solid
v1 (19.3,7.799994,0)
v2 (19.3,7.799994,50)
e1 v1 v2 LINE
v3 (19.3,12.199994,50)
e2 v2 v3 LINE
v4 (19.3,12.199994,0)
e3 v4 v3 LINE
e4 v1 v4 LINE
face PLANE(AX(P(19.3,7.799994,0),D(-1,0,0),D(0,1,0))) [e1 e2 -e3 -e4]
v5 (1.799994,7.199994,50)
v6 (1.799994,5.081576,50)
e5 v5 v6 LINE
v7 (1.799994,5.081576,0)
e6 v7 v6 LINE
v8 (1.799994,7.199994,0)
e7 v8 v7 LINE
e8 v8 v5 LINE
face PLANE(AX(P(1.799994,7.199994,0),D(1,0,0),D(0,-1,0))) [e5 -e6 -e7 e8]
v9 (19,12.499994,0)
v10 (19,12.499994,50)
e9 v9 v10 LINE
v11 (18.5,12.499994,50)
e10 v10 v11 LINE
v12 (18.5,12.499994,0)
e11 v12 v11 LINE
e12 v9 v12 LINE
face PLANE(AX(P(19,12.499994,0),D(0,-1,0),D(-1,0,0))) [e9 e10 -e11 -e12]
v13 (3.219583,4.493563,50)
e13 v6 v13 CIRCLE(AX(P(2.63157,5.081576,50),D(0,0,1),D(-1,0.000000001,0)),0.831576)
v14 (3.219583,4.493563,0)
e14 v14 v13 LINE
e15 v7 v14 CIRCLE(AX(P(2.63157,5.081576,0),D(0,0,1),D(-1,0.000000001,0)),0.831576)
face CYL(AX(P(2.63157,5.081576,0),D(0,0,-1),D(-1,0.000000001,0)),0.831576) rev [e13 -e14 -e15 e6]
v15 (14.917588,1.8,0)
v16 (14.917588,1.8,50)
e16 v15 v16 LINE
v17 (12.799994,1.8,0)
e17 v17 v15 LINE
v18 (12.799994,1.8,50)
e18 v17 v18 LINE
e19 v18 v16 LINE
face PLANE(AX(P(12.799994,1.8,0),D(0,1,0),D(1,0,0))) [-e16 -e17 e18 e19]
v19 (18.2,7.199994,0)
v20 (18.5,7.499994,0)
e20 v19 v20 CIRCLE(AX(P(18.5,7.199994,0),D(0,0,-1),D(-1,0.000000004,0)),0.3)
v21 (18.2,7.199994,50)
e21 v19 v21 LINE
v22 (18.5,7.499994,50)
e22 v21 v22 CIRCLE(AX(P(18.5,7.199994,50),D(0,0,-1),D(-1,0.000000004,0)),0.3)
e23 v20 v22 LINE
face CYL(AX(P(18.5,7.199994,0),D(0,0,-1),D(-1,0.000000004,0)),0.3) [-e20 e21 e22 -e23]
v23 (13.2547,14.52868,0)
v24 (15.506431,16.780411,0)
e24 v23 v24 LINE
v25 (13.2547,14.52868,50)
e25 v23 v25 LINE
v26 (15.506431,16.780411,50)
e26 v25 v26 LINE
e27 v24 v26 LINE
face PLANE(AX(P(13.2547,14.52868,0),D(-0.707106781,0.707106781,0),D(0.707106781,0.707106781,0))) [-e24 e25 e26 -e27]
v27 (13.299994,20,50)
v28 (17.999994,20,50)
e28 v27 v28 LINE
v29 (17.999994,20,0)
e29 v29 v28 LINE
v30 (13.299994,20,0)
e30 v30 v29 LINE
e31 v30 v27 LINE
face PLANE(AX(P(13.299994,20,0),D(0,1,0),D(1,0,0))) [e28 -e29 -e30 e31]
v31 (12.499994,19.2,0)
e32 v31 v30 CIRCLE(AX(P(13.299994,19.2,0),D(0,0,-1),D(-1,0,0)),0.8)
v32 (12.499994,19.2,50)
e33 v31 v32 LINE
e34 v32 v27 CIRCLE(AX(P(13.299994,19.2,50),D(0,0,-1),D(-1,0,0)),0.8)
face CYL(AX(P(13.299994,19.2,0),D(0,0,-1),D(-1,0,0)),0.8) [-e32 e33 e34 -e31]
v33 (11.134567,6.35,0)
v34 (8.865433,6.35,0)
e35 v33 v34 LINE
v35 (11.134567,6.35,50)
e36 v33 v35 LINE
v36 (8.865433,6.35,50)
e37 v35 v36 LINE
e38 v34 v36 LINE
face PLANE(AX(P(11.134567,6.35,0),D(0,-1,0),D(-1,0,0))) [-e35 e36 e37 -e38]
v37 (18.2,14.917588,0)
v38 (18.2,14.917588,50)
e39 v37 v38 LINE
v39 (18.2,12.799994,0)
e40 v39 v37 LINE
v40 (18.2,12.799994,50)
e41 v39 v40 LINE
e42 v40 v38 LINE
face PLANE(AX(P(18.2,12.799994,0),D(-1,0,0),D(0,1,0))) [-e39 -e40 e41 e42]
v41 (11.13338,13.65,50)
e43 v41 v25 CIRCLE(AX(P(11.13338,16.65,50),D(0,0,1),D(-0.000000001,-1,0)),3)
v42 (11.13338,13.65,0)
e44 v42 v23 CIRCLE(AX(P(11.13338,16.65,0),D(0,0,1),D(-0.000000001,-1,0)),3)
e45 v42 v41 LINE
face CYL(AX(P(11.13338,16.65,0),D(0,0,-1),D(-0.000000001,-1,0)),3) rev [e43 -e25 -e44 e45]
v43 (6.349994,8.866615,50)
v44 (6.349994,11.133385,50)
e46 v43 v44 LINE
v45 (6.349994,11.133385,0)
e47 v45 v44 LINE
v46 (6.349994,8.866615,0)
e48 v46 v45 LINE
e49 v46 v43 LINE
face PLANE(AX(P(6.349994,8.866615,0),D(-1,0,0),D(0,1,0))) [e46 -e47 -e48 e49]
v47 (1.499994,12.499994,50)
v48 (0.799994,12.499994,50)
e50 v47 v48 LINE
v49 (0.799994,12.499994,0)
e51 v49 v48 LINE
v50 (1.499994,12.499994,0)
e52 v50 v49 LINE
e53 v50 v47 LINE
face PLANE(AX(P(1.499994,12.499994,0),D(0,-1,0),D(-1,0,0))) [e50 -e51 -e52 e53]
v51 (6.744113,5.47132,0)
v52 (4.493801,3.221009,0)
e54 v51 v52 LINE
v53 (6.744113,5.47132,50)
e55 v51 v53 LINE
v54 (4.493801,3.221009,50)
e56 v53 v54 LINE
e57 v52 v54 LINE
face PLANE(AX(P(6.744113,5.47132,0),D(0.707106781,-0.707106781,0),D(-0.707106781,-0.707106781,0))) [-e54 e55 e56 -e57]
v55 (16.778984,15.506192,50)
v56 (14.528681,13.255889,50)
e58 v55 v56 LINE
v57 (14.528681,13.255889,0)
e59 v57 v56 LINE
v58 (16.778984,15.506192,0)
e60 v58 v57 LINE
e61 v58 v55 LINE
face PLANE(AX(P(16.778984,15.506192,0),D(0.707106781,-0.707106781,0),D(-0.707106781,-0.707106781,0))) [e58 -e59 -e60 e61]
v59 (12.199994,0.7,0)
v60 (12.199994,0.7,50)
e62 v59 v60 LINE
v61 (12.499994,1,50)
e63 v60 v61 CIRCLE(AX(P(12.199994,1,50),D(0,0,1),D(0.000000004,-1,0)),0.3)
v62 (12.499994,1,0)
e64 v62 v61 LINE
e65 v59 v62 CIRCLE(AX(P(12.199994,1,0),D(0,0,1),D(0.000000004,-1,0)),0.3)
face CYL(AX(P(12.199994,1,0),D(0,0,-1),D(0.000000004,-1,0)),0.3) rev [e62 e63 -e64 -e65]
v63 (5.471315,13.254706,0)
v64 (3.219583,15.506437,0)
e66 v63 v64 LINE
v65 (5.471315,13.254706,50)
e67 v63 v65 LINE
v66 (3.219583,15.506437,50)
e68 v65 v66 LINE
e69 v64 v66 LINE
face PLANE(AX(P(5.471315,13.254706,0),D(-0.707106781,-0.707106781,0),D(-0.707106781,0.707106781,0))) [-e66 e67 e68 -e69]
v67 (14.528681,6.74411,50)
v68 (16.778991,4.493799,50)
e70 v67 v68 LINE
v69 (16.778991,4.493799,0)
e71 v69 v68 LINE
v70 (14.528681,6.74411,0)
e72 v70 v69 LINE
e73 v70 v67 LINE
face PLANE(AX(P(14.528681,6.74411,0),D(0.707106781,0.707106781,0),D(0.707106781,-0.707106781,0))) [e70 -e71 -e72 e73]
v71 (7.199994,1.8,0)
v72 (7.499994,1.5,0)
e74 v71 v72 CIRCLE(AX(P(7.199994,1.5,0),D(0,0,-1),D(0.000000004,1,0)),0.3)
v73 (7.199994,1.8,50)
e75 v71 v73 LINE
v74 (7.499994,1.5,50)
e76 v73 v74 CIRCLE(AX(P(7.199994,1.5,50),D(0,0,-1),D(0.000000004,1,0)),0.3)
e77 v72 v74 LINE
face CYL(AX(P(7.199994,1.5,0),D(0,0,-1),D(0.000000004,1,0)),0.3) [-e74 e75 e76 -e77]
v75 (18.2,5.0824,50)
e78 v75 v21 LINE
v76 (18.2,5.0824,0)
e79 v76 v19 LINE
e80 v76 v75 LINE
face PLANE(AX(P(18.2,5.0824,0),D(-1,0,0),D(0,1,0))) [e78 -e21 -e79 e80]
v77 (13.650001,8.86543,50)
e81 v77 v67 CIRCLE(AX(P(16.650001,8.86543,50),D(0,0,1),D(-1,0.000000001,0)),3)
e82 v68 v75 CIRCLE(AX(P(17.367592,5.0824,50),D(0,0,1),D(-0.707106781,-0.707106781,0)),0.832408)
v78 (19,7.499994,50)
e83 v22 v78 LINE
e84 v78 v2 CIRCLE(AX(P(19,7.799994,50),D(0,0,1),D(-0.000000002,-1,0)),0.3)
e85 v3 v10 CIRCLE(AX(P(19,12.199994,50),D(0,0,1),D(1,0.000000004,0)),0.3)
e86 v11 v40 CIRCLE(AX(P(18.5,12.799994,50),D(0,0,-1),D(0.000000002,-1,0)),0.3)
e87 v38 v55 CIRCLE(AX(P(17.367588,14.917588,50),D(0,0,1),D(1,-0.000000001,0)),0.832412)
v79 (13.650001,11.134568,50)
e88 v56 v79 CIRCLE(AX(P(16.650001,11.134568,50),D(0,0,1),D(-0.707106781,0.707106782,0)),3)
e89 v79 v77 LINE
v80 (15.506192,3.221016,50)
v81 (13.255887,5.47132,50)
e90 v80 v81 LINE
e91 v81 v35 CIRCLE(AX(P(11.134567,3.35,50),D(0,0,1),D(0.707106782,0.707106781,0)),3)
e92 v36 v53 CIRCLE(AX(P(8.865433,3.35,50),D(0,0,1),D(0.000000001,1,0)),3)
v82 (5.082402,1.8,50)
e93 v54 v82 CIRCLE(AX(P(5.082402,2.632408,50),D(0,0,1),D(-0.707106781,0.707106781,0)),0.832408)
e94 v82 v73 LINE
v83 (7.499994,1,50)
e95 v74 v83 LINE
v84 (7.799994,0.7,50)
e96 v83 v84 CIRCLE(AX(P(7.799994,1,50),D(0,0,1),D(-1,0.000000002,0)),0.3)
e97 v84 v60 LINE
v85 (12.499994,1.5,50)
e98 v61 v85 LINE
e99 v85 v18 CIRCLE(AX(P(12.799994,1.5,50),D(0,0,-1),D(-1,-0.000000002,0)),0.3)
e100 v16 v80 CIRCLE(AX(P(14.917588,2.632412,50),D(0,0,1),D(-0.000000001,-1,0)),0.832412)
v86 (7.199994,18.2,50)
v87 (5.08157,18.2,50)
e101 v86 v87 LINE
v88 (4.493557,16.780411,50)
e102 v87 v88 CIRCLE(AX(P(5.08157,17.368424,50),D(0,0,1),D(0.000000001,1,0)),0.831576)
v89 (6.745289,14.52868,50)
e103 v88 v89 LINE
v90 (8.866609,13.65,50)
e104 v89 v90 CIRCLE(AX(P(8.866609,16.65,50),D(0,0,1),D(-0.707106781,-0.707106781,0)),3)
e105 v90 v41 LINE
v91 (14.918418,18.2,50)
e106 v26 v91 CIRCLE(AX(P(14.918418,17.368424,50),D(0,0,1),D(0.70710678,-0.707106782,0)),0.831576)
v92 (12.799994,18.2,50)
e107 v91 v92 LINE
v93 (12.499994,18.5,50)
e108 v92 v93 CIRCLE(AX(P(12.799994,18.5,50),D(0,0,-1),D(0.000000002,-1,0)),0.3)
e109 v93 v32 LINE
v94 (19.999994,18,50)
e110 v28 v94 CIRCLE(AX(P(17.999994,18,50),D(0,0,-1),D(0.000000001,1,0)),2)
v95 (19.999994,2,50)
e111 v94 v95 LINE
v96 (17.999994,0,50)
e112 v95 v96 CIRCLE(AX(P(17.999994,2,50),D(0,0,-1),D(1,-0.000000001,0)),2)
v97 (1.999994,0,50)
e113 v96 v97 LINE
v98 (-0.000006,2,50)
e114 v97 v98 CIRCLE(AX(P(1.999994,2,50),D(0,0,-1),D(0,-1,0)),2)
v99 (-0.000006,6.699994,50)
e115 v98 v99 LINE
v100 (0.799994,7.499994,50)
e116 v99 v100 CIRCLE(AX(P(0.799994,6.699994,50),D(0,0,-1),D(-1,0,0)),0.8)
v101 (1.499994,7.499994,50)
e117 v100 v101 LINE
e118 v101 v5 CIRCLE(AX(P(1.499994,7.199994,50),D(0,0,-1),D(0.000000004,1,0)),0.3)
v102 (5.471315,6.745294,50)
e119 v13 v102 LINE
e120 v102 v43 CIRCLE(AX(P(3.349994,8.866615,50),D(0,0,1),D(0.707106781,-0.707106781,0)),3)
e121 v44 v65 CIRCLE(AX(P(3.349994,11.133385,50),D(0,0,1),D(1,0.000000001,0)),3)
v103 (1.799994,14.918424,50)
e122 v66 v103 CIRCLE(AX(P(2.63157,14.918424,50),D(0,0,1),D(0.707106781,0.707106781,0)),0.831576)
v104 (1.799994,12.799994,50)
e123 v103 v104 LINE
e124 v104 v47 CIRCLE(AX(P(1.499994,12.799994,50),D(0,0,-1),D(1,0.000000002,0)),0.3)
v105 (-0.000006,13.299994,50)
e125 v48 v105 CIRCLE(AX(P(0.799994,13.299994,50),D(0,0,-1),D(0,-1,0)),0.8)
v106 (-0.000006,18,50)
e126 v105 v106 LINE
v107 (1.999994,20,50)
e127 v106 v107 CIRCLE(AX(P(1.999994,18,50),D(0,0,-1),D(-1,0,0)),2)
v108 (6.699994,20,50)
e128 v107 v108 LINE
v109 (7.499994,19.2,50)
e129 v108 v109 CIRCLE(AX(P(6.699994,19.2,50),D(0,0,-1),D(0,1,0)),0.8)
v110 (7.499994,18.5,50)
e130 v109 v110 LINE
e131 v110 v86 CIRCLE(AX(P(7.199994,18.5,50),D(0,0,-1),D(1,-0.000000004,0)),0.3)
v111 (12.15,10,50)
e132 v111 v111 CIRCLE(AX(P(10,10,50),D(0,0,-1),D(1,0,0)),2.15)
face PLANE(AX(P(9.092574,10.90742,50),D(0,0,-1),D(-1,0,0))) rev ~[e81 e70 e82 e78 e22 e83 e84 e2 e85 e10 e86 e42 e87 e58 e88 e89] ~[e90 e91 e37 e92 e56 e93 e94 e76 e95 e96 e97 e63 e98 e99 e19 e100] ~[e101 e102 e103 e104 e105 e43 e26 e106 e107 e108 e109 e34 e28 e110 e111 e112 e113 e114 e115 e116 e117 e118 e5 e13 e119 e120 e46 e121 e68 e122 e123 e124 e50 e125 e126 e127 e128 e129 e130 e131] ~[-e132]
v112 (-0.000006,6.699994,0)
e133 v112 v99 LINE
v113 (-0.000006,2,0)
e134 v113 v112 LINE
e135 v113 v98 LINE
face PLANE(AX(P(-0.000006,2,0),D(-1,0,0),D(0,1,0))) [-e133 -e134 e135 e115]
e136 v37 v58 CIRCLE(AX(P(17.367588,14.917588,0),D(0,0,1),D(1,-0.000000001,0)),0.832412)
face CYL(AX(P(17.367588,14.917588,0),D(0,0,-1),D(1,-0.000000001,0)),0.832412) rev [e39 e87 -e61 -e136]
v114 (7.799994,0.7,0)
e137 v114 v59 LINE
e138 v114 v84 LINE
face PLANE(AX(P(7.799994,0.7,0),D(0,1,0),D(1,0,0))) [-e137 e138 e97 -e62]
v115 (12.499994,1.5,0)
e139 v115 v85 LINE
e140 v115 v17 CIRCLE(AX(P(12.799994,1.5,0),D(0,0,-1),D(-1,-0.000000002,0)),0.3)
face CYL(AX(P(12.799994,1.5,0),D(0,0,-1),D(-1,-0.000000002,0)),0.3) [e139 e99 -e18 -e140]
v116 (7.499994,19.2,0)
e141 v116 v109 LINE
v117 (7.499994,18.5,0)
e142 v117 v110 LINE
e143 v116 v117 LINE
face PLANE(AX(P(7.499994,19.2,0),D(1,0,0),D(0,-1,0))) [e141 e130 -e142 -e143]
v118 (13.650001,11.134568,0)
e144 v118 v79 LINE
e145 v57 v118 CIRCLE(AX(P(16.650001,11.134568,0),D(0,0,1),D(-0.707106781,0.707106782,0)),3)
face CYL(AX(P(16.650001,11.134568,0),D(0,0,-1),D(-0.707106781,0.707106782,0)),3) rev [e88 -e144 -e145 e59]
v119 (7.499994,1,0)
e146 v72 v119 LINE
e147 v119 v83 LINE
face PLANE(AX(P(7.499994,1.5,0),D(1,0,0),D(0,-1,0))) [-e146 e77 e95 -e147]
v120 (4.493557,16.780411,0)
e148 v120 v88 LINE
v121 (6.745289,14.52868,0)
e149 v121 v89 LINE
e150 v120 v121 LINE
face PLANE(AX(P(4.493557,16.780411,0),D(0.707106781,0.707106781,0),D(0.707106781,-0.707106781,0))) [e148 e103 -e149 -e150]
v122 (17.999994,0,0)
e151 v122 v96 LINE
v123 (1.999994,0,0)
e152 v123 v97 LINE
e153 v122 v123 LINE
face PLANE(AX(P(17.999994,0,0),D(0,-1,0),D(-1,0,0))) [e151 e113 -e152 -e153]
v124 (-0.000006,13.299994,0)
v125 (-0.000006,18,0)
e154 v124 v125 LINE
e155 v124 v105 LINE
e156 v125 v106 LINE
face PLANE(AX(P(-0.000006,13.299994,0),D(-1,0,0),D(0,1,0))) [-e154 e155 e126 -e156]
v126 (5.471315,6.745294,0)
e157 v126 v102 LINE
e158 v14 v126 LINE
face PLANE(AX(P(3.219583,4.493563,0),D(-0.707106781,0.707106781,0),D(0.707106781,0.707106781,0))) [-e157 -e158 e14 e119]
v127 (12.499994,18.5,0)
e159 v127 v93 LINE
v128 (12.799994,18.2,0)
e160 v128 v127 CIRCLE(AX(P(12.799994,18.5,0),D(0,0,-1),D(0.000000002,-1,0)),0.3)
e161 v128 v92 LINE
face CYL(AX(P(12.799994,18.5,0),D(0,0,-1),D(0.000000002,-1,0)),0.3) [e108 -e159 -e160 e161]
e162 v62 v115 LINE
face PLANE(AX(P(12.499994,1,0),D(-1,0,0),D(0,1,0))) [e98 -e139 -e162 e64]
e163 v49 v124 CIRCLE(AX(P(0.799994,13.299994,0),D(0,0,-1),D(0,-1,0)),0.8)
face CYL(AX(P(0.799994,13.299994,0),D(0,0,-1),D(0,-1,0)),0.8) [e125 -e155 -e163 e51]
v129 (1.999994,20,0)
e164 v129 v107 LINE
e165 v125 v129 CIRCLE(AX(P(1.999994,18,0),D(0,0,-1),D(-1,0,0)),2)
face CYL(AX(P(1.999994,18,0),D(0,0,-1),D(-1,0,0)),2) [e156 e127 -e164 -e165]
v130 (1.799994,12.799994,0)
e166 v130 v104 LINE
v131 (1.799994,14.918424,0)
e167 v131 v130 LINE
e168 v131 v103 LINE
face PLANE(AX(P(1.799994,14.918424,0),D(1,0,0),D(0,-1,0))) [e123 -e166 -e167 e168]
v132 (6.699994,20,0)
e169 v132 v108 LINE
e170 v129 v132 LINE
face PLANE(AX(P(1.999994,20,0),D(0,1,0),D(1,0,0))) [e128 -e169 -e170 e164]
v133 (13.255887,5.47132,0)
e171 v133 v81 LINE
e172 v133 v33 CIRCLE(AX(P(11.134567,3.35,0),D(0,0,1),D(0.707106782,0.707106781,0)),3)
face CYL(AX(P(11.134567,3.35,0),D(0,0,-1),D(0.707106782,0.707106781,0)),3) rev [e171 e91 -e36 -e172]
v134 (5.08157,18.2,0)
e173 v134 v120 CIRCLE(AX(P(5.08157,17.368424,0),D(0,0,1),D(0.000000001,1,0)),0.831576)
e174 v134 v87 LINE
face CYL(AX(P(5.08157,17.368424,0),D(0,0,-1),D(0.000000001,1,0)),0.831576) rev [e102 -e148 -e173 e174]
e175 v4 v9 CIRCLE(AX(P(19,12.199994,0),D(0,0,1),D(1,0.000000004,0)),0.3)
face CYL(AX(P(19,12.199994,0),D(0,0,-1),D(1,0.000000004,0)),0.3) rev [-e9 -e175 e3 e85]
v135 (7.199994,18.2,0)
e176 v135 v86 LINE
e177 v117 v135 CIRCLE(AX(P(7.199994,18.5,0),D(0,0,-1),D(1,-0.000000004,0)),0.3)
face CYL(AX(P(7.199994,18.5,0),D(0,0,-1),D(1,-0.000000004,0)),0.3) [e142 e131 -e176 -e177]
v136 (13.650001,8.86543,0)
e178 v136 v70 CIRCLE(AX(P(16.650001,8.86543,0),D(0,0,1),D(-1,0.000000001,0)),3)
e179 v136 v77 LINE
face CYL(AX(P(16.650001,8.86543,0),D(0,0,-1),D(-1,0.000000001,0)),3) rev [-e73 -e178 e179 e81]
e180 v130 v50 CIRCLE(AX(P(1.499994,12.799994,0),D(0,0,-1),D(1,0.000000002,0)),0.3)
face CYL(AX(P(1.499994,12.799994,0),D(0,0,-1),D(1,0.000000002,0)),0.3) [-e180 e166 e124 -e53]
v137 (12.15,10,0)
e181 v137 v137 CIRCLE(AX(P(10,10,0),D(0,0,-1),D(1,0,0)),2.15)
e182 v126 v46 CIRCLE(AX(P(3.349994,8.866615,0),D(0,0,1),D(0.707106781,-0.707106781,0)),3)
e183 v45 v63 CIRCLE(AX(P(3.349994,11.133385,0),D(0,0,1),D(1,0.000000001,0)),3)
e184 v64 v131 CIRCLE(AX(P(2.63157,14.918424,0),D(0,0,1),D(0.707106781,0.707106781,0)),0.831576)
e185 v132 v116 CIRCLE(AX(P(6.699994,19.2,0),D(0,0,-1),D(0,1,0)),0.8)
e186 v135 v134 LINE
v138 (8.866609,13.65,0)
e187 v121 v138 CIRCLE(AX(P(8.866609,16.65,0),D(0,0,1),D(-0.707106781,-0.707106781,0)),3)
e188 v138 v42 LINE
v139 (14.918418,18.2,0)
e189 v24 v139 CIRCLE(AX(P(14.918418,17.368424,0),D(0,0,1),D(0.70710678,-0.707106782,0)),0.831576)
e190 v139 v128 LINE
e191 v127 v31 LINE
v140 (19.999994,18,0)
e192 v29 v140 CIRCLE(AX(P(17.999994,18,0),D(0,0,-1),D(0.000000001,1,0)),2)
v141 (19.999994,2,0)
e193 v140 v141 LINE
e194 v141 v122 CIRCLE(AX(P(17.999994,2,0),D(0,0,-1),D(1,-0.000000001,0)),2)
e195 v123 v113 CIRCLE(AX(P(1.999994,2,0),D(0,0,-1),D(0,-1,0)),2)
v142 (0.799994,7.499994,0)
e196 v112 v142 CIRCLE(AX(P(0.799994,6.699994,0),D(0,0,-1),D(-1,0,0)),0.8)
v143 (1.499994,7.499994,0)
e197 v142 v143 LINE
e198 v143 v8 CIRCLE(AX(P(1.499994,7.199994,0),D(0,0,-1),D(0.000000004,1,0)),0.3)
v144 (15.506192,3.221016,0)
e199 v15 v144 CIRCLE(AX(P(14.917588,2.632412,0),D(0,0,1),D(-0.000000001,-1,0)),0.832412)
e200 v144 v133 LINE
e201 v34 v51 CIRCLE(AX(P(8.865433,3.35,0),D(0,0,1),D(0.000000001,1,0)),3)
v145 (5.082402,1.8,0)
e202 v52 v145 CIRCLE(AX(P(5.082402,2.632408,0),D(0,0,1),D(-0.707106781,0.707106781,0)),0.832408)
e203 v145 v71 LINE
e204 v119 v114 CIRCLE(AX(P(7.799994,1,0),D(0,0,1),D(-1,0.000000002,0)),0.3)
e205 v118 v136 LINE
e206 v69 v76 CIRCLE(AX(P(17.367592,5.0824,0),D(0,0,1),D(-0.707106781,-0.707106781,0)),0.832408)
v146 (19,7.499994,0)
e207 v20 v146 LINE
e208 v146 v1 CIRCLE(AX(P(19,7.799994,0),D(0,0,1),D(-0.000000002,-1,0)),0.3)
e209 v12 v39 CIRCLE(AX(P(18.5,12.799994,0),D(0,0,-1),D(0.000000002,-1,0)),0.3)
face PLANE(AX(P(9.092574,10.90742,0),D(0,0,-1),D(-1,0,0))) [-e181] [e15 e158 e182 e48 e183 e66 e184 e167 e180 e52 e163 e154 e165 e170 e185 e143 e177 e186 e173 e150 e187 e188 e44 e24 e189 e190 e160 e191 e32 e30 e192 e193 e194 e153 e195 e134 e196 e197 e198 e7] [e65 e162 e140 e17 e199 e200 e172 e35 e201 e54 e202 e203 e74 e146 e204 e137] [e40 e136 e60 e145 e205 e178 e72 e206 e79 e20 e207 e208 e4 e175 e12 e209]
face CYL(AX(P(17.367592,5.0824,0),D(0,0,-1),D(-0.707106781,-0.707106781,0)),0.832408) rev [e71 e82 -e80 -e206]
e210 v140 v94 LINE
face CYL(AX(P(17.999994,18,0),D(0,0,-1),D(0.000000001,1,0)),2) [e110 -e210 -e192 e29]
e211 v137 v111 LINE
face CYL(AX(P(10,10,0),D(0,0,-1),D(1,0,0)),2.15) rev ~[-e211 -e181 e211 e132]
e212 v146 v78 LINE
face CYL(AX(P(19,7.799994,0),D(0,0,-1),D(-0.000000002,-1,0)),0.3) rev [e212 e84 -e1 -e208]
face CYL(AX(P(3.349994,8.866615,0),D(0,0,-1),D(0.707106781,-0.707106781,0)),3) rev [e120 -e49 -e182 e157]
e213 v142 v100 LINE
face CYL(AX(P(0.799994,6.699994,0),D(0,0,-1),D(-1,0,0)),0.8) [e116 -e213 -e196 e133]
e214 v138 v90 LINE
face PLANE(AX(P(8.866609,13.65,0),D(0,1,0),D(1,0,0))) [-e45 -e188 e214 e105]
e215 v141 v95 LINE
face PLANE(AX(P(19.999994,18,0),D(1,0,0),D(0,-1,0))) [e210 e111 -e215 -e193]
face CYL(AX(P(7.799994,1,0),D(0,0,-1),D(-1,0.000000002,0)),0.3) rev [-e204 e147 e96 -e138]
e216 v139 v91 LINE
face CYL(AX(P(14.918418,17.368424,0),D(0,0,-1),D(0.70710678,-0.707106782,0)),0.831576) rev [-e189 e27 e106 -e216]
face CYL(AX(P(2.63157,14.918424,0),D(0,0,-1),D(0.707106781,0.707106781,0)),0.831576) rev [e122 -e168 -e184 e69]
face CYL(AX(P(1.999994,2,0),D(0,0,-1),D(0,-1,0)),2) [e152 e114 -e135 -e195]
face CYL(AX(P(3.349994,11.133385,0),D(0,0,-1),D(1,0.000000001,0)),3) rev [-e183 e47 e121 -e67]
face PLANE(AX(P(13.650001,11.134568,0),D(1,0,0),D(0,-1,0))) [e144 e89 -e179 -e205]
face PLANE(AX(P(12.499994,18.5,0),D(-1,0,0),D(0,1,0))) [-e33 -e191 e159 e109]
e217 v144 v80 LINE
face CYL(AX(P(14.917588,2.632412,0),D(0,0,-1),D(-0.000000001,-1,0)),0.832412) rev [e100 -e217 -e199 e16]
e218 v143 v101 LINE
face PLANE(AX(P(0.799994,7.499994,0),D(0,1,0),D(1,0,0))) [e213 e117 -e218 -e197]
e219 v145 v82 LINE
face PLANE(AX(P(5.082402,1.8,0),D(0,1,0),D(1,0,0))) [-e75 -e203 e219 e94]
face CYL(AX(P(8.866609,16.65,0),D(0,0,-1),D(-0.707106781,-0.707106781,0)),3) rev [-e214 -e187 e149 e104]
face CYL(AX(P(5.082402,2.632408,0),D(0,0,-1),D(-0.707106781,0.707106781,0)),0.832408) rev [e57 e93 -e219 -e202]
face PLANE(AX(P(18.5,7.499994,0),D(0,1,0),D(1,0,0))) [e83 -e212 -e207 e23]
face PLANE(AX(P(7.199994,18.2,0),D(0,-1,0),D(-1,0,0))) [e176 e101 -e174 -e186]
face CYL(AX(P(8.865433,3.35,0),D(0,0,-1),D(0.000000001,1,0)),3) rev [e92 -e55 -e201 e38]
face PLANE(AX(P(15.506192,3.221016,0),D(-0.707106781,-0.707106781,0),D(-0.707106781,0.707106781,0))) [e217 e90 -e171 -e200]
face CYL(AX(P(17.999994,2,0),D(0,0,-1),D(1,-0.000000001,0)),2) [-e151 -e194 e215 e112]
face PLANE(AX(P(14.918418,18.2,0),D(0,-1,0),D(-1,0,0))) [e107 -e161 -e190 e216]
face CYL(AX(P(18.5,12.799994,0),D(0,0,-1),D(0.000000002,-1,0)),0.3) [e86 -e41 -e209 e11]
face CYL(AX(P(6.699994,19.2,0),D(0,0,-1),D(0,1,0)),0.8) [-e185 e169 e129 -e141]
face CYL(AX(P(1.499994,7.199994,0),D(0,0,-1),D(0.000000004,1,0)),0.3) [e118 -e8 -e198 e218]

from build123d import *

# Parameters (mm, degrees)
ESQUISSE1_R        = 2.15
BOSS_EXTRU_1_DEPTH = 50


with BuildPart() as part:
    # Esquisse1 → Boss.-Extru.1 (new body)
    with BuildSketch(Plane(origin=(0, 0, 0), x_dir=(-1, 0, 0), z_dir=(0, 0, -1))):
        with BuildLine():
            Line((-17.999994246, 0), (-1.999994246, 0))
            ThreePointArc((-1.999994246, 0), (-0.585780683, 0.585786438), (5.754e-06, 2))
            Line((5.754e-06, 2), (5.754e-06, 6.699994246))
            ThreePointArc((5.754e-06, 6.699994246), (-0.234308821, 7.265679671), (-0.799994246, 7.499994246))
            Line((-0.799994246, 7.499994246), (-1.499994246, 7.499994246))
            ThreePointArc((-1.499994246, 7.499994246), (-1.71212628, 7.41212628), (-1.799994246, 7.199994246))
            Line((-1.799994246, 7.199994246), (-1.799994246, 5.081575939))
            ThreePointArc((-1.799994246, 5.081575939), (-2.31333985, 4.313299949), (-3.21958317, 4.493562953))
            Line((-3.21958317, 4.493562953), (-5.471314589, 6.745294373))
            ThreePointArc((-5.471314589, 6.745294373), (-6.121632843, 7.718564419), (-6.349994246, 8.866614716))
            Line((-6.349994246, 8.866614716), (-6.349994246, 11.133385284))
            ThreePointArc((-6.349994246, 11.133385284), (-6.121632843, 12.281435581), (-5.471314589, 13.254705627))
            Line((-5.471314589, 13.254705627), (-3.21958317, 15.506437047))
            ThreePointArc((-3.21958317, 15.506437047), (-2.31333985, 15.686700051), (-1.799994246, 14.918424061))
            Line((-1.799994246, 14.918424061), (-1.799994246, 12.799994246))
            ThreePointArc((-1.799994246, 12.799994246), (-1.71212628, 12.587862211), (-1.499994246, 12.499994246))
            Line((-1.499994246, 12.499994246), (-0.799994246, 12.499994246))
            ThreePointArc((-0.799994246, 12.499994246), (-0.234308821, 12.734308821), (5.754e-06, 13.299994246))
            Line((5.754e-06, 13.299994246), (5.754e-06, 18))
            ThreePointArc((5.754e-06, 18), (-0.585780683, 19.414213562), (-1.999994246, 20))
            Line((-1.999994246, 20), (-6.699994246, 20))
            ThreePointArc((-6.699994246, 20), (-7.265679671, 19.765685425), (-7.499994246, 19.2))
            Line((-7.499994246, 19.2), (-7.499994246, 18.5))
            ThreePointArc((-7.499994246, 18.5), (-7.41212628, 18.287867966), (-7.199994246, 18.2))
            Line((-7.199994246, 18.2), (-5.081570185, 18.2))
            ThreePointArc((-5.081570185, 18.2), (-4.313294195, 17.686654396), (-4.493557199, 16.780411076))
            Line((-4.493557199, 16.780411076), (-6.745288618, 14.528679656))
            ThreePointArc((-6.745288618, 14.528679656), (-7.718558665, 13.878361402), (-8.866608962, 13.65))
            Line((-8.866608962, 13.65), (-11.13337953, 13.65))
            ThreePointArc((-11.13337953, 13.65), (-12.281429827, 13.878361402), (-13.254699873, 14.528679656))
            Line((-13.254699873, 14.528679656), (-15.506431292, 16.780411076))
            ThreePointArc((-15.506431292, 16.780411076), (-15.686694297, 17.686654396), (-14.918418307, 18.2))
            Line((-14.918418307, 18.2), (-12.799994246, 18.2))
            ThreePointArc((-12.799994246, 18.2), (-12.587862211, 18.287867966), (-12.499994246, 18.5))
            Line((-12.499994246, 18.5), (-12.499994246, 19.2))
            ThreePointArc((-12.499994246, 19.2), (-12.734308821, 19.765685425), (-13.299994246, 20))
            Line((-13.299994246, 20), (-17.999994246, 20))
            ThreePointArc((-17.999994246, 20), (-19.414207808, 19.414213562), (-19.999994246, 18))
            Line((-19.999994246, 18), (-19.999994246, 2))
            ThreePointArc((-19.999994246, 2), (-19.414207808, 0.585786438), (-17.999994246, 0))
        make_face()
        with Locations(Location((-10, 10, 0), (0, 0, 180))):
            Circle(ESQUISSE1_R, mode=Mode.SUBTRACT)
        with BuildLine():
            Line((-16.778984489, 15.506192283), (-14.528680848, 13.255888642))
            ThreePointArc((-14.528680848, 13.255888642), (-13.878362594, 12.282618596), (-13.650001192, 11.134568298))
            Line((-13.650001192, 11.134568298), (-13.650001192, 8.865430016))
            ThreePointArc((-13.650001192, 8.865430016), (-13.878362594, 7.717379719), (-14.528680848, 6.744109673))
            Line((-14.528680848, 6.744109673), (-16.778991435, 4.493799086))
            ThreePointArc((-16.778991435, 4.493799086), (-17.686141031, 4.313355812), (-18.2, 5.082400105))
            Line((-18.2, 5.082400105), (-18.2, 7.199994246))
            ThreePointArc((-18.2, 7.199994246), (-18.287867966, 7.41212628), (-18.5, 7.499994246))
            Line((-18.5, 7.499994246), (-19, 7.499994246))
            ThreePointArc((-19, 7.499994246), (-19.212132034, 7.587862211), (-19.3, 7.799994246))
            Line((-19.3, 7.799994246), (-19.3, 12.199994246))
            ThreePointArc((-19.3, 12.199994246), (-19.212132034, 12.41212628), (-19, 12.499994246))
            Line((-19, 12.499994246), (-18.5, 12.499994246))
            ThreePointArc((-18.5, 12.499994246), (-18.287867966, 12.587862211), (-18.2, 12.799994246))
            Line((-18.2, 12.799994246), (-18.2, 14.917588386))
            ThreePointArc((-18.2, 14.917588386), (-17.68613852, 15.686636439), (-16.778984489, 15.506192283))
        make_face(mode=Mode.SUBTRACT)
        with BuildLine():
            Line((-15.506192283, 3.221015511), (-13.25588745, 5.471320344))
            ThreePointArc((-13.25588745, 5.471320344), (-12.282617404, 6.121638598), (-11.134567107, 6.35))
            Line((-11.134567107, 6.35), (-8.865432893, 6.35))
            ThreePointArc((-8.865432893, 6.35), (-7.717382596, 6.121638598), (-6.74411255, 5.471320344))
            Line((-6.74411255, 5.471320344), (-4.493800771, 3.221008565))
            ThreePointArc((-4.493800771, 3.221008565), (-4.313357497, 2.313858969), (-5.082401791, 1.8))
            Line((-5.082401791, 1.8), (-7.199994246, 1.8))
            ThreePointArc((-7.199994246, 1.8), (-7.41212628, 1.712132034), (-7.499994246, 1.5))
            Line((-7.499994246, 1.5), (-7.499994246, 1))
            ThreePointArc((-7.499994246, 1), (-7.587862211, 0.787867966), (-7.799994246, 0.7))
            Line((-7.799994246, 0.7), (-12.199994246, 0.7))
            ThreePointArc((-12.199994246, 0.7), (-12.41212628, 0.787867966), (-12.499994246, 1))
            Line((-12.499994246, 1), (-12.499994246, 1.5))
            ThreePointArc((-12.499994246, 1.5), (-12.587862211, 1.712132034), (-12.799994246, 1.8))
            Line((-12.799994246, 1.8), (-14.917588386, 1.8))
            ThreePointArc((-14.917588386, 1.8), (-15.686636439, 2.31386148), (-15.506192283, 3.221015511))
        make_face(mode=Mode.SUBTRACT)
    extrude(amount=-BOSS_EXTRU_1_DEPTH)


solid = part.part
